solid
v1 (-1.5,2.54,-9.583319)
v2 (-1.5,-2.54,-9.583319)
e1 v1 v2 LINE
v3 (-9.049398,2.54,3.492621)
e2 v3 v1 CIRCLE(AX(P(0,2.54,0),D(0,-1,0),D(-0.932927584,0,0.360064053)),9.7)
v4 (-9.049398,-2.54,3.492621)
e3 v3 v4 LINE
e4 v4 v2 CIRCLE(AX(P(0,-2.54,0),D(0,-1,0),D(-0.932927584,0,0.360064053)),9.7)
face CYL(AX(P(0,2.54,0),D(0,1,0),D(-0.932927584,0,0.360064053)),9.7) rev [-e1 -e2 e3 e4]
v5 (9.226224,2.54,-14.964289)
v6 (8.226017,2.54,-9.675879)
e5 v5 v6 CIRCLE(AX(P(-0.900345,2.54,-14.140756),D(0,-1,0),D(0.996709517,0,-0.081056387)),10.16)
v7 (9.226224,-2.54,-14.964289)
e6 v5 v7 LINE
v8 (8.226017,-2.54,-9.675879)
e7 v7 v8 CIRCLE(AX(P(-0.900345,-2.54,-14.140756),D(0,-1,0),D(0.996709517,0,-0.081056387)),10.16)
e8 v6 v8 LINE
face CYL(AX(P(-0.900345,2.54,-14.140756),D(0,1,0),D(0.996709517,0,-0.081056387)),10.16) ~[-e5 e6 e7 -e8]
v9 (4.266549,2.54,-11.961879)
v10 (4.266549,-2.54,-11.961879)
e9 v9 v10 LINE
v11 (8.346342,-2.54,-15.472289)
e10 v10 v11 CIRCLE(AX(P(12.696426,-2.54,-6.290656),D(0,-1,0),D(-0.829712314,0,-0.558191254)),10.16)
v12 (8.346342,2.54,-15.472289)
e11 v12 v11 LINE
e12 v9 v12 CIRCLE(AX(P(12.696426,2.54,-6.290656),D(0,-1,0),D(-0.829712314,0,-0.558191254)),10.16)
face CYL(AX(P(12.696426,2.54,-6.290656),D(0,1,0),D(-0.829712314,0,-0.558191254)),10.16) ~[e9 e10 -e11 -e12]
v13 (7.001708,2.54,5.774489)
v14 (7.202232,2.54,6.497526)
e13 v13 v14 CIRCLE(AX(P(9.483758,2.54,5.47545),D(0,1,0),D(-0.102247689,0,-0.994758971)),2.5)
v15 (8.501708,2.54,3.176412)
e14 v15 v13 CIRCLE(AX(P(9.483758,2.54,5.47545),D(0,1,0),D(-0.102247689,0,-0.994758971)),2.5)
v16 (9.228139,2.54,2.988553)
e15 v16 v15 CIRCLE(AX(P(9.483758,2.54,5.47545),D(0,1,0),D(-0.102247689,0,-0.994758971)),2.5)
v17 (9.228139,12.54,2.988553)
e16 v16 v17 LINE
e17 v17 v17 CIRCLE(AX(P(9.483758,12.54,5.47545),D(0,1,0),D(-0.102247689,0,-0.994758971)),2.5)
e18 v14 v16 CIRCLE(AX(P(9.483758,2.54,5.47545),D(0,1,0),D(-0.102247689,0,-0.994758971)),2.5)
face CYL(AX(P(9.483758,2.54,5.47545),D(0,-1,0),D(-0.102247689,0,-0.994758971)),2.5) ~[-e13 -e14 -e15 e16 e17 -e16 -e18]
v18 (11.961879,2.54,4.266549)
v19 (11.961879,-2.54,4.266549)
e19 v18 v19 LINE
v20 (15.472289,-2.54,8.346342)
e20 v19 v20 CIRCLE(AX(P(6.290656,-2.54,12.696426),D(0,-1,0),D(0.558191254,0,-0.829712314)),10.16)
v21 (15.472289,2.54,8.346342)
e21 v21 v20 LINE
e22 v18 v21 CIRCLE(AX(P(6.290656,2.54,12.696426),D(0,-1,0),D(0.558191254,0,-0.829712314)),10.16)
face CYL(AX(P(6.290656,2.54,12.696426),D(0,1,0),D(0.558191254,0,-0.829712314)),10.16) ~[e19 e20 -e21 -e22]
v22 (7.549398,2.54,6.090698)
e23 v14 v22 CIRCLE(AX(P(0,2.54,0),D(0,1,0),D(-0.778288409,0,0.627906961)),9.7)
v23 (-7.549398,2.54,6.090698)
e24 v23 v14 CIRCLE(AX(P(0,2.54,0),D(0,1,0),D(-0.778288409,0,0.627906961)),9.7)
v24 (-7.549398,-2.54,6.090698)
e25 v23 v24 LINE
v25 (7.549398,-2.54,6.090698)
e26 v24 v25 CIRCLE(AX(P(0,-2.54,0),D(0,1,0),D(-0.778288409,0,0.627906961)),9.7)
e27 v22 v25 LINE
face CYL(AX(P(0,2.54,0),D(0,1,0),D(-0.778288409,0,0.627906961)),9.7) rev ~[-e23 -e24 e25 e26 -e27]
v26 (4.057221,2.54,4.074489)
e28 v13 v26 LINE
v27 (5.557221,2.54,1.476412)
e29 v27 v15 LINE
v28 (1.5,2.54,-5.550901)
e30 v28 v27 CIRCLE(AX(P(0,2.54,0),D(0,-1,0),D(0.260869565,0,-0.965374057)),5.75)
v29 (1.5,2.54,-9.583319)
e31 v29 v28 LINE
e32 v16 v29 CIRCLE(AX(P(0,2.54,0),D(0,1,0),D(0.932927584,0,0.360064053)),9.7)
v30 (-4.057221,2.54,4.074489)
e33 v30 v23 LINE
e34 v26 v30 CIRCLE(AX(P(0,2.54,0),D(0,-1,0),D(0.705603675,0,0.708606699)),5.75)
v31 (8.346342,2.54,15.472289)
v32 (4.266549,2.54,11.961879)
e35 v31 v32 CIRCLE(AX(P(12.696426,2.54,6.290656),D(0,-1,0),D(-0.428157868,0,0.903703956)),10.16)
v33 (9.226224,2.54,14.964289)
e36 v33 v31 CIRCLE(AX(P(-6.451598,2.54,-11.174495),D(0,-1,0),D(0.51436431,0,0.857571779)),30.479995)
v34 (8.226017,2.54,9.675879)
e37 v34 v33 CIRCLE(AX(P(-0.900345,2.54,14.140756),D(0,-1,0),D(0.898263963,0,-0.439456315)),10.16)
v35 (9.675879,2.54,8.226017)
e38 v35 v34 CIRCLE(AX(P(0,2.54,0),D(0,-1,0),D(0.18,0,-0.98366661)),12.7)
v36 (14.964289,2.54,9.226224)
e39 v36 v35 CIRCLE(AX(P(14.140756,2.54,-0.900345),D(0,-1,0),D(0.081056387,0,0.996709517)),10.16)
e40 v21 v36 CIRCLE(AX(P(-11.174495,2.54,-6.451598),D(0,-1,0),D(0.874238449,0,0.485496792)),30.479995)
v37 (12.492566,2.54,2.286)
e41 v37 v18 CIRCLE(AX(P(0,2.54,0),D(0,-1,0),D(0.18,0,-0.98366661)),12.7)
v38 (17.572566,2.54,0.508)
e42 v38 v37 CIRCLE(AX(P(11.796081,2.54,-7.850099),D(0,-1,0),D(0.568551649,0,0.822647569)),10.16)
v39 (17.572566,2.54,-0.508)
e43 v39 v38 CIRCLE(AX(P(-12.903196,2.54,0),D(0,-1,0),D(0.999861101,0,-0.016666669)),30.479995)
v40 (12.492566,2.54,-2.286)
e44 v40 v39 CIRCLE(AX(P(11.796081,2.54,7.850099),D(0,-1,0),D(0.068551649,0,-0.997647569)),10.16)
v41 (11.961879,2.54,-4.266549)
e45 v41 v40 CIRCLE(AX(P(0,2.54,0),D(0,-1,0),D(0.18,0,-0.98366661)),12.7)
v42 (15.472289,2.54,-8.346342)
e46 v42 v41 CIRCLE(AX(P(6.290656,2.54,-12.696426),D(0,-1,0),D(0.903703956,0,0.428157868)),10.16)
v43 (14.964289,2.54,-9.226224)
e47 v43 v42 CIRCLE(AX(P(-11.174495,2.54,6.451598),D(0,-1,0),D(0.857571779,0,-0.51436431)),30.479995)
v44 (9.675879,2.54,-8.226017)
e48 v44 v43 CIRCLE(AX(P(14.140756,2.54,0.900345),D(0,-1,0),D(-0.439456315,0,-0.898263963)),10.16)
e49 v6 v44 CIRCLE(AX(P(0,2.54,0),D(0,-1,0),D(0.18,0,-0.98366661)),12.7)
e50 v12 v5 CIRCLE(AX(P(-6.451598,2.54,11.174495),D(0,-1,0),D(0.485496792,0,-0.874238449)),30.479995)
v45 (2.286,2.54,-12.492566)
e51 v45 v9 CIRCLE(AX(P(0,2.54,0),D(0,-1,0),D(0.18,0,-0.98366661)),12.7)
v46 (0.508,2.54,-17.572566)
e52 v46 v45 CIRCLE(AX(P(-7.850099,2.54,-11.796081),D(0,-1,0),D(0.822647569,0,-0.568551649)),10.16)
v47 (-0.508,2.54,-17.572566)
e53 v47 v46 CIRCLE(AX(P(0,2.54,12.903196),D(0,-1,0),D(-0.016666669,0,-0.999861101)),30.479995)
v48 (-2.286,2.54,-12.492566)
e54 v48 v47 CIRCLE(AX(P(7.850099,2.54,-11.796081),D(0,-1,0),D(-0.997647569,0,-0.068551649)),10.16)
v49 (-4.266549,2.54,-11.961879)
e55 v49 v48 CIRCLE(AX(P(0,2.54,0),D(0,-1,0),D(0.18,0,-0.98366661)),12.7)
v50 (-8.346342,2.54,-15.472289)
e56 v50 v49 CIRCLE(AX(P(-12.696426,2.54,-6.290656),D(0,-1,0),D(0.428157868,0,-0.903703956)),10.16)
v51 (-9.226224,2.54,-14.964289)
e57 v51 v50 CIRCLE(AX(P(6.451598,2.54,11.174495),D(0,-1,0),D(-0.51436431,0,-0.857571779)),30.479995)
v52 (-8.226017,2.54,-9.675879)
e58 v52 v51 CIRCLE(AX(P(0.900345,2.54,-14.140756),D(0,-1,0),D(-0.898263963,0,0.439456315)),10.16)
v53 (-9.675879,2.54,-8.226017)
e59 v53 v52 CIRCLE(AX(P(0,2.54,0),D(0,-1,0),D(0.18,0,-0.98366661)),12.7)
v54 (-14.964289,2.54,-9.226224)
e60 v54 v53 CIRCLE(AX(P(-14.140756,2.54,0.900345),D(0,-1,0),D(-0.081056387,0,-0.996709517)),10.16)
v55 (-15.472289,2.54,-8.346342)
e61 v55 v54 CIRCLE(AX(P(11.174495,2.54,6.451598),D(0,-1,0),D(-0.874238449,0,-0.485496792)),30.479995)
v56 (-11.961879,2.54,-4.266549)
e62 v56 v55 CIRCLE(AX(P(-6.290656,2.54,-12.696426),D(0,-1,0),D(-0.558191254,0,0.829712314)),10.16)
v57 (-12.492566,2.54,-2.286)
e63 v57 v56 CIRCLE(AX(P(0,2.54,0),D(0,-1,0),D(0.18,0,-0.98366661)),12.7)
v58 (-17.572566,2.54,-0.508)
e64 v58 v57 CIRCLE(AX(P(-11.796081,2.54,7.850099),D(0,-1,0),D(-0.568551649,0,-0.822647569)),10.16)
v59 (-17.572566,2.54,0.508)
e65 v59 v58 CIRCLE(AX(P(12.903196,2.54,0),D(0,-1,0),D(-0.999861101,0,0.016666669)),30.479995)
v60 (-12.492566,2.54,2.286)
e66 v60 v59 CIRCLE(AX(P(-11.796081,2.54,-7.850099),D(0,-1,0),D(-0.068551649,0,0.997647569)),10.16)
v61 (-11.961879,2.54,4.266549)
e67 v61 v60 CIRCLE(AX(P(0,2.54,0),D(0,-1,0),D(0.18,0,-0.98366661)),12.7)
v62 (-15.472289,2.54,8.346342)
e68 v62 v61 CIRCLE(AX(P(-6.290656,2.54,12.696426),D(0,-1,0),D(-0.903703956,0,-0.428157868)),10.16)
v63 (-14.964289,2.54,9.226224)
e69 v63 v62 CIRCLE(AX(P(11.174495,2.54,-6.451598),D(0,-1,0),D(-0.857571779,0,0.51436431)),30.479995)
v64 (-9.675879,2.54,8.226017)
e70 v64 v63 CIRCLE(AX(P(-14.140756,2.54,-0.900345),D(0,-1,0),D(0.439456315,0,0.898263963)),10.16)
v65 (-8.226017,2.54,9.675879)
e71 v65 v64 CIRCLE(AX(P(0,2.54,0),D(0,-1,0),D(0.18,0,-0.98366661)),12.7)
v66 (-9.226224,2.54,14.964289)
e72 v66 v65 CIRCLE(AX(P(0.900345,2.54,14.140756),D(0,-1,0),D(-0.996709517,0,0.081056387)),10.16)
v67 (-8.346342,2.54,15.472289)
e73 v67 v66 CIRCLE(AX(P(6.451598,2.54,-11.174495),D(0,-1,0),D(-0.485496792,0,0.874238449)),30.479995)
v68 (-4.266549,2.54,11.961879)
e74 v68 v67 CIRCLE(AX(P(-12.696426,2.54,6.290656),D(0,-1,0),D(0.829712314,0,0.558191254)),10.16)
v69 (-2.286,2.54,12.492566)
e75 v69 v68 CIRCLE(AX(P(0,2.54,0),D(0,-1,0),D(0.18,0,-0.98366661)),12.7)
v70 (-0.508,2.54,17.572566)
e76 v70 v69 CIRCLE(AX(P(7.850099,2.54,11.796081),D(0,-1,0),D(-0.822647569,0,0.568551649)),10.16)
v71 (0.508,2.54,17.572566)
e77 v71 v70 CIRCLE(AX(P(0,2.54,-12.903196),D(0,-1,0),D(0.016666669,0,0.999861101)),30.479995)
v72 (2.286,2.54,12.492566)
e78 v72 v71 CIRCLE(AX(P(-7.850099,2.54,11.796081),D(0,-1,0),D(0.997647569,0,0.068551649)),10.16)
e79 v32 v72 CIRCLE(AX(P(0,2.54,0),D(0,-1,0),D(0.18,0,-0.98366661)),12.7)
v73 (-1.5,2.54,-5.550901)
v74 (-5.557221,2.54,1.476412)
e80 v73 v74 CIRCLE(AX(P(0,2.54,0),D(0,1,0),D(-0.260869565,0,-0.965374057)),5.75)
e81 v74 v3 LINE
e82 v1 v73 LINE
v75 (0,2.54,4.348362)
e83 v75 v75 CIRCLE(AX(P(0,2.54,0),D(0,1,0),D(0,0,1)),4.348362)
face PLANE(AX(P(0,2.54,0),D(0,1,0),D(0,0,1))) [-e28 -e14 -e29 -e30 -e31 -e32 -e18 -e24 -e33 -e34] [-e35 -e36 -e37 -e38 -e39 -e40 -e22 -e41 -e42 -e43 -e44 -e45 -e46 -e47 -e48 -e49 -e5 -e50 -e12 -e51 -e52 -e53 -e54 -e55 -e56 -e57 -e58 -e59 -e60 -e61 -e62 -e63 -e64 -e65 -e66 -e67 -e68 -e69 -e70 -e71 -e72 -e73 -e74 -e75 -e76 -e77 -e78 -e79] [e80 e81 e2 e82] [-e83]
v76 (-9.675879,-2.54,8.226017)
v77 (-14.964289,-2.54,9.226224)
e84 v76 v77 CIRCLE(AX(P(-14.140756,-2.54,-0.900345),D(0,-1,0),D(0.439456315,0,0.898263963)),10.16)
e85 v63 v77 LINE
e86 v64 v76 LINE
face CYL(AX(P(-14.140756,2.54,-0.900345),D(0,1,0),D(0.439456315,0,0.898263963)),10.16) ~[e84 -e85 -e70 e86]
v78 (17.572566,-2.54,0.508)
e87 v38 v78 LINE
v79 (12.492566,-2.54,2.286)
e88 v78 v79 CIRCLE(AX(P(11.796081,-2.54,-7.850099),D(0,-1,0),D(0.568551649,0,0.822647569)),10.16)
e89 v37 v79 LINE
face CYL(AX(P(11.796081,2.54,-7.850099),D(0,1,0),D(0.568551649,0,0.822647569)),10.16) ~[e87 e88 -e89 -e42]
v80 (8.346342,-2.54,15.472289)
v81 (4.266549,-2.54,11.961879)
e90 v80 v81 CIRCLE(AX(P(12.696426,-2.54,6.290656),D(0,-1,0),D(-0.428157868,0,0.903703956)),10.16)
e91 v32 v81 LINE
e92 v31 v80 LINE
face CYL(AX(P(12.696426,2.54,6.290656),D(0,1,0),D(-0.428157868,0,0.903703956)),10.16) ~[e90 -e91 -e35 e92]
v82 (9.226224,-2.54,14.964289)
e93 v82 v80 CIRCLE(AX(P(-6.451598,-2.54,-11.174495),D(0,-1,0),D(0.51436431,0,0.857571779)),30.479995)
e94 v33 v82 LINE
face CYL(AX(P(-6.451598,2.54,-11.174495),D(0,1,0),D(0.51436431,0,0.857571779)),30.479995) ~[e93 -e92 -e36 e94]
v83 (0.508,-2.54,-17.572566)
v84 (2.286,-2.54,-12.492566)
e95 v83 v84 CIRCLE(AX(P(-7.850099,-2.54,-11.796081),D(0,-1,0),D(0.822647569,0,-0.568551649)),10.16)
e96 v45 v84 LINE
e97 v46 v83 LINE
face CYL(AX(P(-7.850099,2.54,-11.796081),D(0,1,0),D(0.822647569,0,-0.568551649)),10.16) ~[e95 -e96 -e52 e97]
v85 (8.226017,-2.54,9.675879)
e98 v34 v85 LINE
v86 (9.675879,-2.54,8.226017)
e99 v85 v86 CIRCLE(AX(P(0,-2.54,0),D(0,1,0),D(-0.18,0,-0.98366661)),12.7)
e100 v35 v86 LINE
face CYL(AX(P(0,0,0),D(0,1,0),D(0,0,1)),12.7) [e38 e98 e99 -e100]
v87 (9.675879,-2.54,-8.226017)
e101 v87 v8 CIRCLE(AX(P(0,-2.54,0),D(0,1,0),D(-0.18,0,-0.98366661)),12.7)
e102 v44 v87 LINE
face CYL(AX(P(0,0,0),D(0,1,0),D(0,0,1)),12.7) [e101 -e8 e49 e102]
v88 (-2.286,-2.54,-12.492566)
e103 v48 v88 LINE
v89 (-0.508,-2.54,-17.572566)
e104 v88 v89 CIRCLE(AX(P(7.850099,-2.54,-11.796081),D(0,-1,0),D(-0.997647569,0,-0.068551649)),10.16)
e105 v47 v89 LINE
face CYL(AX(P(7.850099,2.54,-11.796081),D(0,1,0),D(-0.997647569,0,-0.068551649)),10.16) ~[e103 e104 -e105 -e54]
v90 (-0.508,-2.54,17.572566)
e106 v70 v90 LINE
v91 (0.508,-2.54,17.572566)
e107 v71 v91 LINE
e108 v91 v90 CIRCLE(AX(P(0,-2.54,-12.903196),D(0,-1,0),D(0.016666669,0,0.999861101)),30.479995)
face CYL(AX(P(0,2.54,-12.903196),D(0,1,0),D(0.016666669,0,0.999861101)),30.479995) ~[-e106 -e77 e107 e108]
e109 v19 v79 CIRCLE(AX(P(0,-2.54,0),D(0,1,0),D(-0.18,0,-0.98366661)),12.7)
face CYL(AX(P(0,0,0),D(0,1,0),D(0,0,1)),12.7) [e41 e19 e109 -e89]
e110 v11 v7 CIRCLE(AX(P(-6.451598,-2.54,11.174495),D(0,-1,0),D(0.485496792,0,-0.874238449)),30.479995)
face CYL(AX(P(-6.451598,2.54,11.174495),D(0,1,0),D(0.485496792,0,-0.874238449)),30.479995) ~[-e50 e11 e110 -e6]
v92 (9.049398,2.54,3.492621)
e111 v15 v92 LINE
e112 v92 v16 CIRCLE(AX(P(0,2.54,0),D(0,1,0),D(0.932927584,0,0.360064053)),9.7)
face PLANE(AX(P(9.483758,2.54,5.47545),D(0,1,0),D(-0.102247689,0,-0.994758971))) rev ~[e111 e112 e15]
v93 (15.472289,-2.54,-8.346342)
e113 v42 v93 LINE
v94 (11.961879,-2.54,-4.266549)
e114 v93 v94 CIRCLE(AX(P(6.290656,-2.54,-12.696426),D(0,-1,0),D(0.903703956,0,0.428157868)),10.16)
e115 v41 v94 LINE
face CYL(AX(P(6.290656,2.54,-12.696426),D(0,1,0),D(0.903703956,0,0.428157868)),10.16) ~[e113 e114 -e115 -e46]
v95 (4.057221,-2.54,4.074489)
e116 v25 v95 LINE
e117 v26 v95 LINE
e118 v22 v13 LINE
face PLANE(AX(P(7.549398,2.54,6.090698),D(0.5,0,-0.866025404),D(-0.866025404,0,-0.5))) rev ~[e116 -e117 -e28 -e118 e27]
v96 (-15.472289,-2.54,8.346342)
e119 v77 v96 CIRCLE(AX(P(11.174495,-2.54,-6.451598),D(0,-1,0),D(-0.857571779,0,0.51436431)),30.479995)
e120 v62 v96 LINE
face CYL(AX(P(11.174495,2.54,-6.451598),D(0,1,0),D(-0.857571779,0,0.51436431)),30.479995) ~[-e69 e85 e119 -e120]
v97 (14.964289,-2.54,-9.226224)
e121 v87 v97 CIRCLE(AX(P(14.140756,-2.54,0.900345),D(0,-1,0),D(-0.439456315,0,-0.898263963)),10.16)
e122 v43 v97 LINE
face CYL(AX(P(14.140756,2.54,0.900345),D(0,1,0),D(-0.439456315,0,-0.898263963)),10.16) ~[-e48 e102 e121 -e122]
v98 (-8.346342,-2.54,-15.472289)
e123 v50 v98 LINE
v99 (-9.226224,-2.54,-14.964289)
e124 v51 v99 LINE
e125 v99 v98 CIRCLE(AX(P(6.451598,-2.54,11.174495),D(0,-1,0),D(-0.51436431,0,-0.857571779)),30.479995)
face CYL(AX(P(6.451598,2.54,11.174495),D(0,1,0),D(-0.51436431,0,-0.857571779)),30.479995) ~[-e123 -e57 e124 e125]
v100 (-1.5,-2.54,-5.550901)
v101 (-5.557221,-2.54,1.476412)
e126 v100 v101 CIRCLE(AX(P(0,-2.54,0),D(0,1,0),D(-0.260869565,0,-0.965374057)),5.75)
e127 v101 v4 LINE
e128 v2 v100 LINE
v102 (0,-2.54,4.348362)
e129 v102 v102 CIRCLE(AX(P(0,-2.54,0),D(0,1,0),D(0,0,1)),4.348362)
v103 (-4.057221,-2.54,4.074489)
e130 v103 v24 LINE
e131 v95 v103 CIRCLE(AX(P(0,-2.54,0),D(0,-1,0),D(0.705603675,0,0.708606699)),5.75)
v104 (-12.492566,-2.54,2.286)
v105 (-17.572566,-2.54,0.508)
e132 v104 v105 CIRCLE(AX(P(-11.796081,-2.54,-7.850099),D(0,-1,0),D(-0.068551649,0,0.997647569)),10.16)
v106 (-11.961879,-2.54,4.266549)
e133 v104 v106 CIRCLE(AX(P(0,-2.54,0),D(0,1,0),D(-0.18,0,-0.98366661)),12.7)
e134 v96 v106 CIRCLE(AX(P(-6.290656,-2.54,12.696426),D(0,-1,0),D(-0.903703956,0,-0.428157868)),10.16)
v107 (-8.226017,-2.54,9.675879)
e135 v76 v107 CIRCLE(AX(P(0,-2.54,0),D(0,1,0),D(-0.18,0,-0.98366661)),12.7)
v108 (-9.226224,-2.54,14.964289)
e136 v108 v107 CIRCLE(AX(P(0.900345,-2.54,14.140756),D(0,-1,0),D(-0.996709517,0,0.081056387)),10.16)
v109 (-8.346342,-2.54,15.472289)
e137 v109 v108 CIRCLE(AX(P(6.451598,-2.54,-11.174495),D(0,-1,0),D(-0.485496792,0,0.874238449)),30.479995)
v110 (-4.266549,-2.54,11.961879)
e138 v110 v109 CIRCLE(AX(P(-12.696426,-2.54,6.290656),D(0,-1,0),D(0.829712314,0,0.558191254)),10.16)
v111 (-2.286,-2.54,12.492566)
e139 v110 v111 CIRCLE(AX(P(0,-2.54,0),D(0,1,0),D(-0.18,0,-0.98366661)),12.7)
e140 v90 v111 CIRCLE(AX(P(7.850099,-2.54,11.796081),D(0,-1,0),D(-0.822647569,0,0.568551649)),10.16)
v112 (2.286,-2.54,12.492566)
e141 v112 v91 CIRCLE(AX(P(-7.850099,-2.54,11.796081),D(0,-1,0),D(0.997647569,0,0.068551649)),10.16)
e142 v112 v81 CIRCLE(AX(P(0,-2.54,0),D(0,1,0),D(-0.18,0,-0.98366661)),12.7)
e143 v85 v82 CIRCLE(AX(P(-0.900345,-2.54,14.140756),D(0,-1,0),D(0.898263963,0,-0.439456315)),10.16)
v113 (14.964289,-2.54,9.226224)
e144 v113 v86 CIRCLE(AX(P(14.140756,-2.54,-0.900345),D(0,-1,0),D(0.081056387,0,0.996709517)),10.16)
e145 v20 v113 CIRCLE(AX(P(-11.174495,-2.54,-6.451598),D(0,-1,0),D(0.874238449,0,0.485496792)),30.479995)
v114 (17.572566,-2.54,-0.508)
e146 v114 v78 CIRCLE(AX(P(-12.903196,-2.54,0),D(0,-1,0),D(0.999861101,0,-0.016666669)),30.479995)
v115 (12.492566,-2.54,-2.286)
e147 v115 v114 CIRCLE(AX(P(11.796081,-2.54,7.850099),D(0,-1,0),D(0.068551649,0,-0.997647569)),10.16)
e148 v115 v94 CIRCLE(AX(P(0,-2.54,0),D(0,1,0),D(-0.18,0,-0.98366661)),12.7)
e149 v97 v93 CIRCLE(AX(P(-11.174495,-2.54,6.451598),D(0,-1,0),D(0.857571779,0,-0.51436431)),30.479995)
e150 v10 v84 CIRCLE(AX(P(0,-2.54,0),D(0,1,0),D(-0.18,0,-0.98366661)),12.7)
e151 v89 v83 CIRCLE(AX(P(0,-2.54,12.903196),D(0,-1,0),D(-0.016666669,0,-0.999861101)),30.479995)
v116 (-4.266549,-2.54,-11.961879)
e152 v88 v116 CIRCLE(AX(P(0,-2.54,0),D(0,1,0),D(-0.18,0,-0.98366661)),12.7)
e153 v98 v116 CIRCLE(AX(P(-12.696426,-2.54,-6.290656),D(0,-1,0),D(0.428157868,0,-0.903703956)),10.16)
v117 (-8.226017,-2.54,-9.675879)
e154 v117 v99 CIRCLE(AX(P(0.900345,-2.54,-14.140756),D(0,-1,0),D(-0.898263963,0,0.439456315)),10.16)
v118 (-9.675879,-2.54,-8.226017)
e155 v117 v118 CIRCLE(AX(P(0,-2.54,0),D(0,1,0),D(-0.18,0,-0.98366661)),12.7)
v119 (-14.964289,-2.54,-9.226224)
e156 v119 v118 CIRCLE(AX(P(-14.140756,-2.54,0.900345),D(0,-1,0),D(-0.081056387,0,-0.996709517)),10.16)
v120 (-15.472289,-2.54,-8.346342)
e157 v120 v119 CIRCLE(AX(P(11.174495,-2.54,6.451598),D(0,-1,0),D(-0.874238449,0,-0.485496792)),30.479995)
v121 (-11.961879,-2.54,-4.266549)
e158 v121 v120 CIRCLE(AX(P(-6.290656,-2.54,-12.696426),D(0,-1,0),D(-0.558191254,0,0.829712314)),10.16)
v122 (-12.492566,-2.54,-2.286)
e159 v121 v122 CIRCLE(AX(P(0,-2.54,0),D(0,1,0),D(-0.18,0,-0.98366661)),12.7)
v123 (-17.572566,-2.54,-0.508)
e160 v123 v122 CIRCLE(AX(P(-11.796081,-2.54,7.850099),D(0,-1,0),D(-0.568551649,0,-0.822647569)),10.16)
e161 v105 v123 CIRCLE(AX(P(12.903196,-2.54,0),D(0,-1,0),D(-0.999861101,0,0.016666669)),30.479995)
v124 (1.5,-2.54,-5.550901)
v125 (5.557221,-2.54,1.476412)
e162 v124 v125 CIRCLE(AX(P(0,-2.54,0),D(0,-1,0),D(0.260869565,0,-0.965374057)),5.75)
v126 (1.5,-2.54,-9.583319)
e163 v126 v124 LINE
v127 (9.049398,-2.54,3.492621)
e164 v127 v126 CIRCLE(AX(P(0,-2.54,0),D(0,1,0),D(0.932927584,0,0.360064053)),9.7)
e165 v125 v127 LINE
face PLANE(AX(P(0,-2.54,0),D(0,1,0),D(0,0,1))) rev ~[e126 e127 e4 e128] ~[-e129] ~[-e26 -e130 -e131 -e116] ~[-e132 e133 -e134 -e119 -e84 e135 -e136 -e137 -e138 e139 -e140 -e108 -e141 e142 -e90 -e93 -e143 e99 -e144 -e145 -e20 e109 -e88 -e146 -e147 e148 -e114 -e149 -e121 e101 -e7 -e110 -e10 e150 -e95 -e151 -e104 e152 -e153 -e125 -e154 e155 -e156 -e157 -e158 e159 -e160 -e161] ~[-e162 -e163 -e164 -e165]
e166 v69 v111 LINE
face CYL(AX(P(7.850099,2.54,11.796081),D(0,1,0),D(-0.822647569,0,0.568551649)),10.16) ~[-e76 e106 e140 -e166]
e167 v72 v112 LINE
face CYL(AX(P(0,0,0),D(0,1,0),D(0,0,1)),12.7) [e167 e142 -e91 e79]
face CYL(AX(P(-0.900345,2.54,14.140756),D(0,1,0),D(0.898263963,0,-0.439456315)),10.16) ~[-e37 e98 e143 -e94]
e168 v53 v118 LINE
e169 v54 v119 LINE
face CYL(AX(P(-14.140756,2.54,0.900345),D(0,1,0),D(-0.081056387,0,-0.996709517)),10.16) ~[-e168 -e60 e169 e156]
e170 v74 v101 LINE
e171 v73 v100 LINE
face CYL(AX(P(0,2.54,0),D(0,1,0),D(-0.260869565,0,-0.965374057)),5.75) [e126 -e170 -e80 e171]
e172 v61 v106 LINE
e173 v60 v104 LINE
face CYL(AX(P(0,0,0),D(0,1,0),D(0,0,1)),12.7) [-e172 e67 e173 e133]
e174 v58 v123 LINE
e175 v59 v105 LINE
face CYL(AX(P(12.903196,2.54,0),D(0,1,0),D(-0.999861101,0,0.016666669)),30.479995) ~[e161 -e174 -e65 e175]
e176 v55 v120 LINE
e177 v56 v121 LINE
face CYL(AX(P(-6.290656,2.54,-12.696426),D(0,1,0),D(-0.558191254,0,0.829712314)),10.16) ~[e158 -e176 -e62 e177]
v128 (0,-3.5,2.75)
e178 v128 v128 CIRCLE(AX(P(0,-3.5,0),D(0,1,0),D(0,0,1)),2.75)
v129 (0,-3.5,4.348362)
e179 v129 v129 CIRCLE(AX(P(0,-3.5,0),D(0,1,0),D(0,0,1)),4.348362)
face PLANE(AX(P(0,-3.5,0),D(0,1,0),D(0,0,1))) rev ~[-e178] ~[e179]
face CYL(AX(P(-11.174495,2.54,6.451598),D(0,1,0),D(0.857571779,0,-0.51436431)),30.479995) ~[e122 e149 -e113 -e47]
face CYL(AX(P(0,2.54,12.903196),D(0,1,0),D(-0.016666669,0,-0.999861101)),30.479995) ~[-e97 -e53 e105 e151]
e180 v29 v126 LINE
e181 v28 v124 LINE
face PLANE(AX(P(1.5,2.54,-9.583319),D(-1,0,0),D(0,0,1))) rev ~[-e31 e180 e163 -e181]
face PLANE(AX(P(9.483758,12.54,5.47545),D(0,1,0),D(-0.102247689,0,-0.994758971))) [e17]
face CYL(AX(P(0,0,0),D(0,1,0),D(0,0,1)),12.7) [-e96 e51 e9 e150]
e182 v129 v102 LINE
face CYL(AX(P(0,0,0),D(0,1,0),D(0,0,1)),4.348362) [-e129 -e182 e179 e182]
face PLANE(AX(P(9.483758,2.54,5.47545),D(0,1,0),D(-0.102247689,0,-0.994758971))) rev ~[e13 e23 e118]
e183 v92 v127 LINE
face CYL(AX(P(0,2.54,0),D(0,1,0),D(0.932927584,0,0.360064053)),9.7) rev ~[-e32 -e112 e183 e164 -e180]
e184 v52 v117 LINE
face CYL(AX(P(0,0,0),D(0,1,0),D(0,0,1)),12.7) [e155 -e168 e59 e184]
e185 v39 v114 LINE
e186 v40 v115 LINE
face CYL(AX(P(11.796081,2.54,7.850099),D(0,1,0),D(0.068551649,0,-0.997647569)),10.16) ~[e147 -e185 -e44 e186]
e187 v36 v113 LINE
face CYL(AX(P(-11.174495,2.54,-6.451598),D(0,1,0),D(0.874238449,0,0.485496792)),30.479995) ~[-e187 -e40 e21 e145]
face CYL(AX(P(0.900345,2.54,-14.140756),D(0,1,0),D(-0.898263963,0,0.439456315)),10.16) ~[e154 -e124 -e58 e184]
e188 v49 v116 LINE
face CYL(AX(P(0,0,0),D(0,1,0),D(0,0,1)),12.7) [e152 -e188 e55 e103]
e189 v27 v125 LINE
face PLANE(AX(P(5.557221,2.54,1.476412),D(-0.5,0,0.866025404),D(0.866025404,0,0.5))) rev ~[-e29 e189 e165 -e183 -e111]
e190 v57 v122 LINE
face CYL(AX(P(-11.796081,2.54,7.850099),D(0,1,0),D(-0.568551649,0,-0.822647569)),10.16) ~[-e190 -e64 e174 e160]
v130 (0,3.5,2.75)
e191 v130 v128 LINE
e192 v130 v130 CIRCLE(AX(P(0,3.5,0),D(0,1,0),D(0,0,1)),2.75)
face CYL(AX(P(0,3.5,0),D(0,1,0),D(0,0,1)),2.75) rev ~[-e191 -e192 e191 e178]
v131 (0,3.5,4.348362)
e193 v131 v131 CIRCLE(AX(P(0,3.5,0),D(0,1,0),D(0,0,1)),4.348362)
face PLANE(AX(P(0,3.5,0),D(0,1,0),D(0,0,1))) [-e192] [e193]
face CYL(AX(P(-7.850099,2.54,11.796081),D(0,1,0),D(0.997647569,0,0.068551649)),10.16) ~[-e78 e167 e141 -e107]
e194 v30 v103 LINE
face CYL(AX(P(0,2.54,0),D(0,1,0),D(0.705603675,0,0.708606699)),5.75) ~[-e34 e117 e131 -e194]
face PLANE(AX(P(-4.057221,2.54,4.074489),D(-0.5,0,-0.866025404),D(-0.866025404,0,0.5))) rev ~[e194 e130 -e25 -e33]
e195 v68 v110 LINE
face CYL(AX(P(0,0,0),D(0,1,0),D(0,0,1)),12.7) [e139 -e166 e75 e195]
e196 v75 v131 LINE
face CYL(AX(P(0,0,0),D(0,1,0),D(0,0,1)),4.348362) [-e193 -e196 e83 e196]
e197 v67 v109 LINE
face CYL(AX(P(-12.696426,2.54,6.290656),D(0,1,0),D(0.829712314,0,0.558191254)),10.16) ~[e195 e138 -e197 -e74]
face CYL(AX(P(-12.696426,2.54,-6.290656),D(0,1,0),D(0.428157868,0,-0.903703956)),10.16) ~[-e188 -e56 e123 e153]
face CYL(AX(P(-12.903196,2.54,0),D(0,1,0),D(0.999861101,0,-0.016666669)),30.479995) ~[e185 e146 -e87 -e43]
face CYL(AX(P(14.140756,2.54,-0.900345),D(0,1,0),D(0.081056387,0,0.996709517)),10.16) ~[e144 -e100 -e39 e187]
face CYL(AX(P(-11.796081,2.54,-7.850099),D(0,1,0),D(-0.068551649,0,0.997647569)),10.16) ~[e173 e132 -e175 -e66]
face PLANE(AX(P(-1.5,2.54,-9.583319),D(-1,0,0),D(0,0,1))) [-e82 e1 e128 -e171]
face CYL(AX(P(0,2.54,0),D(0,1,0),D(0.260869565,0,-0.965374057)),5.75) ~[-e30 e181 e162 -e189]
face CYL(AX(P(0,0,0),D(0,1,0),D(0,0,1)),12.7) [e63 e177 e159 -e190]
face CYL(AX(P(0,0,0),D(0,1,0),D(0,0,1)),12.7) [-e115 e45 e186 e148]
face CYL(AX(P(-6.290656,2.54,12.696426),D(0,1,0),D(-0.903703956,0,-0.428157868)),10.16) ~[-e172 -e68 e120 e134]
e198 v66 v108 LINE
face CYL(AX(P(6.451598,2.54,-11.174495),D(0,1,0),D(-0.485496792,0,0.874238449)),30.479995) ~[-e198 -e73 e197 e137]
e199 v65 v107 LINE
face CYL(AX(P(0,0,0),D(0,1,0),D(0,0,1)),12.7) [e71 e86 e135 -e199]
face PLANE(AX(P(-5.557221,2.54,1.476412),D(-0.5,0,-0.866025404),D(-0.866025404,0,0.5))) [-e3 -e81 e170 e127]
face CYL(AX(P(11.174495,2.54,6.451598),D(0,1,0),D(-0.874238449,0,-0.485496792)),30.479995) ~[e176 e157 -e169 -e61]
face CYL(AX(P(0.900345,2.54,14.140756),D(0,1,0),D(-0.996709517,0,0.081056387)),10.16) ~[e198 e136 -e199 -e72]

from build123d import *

# Parameters (mm, degrees)
BASE_PROFILE_R          = 12.7
GEAR_BASE_DEPTH         = 2.54
GEAR_START              = 2.54
GEAR_TOOTH_DEPTH        = 5.08
PATTERN_TOOTH_12T_COUNT = 12
LIP_PROFILE_R           = 4.348362351
LIP_DEPTH               = 3.5
SHAFT_START             = 0.96
HOLE_PROFILE_R          = 2.75
SHAFT_HOLE_DEPTH        = 7
GEAR_CUTOUT_DEPTH       = 5.08
HANDLE_PROFILE_R        = 2.5
HANDLE_DEPTH            = 10


with BuildPart() as part:
    # Base Profile → Gear Base (new, symmetric)
    with BuildSketch(Plane(origin=(0, 0, 0), x_dir=(1, 0, 0), z_dir=(0, 1, 0))):
        with Locations(Location((0, 0, 0), (0, 0, 270))):
            Circle(BASE_PROFILE_R)
    extrude(amount=GEAR_BASE_DEPTH, both=True)

    # Tooth Profile → Gear Tooth (add)
    with BuildSketch(Plane(origin=(0, 0, 0), x_dir=(1, 0, 0), z_dir=(0, 1, 0)).offset(GEAR_START)):
        with BuildLine():
            ThreePointArc((-2.286, 12.492565949), (-1.739501602, 15.15244151), (-0.508, 17.572565949))
            ThreePointArc((-0.508, 17.572565949), (0, 17.576799577), (0.508, 17.572565949))
            ThreePointArc((0.508, 17.572565949), (1.739501602, 15.15244151), (2.286, 12.492565949))
            ThreePointArc((2.286, 12.492565949), (0, 12.7), (-2.286, 12.492565949))
        make_face()
    gear_tooth = extrude(amount=-GEAR_TOOTH_DEPTH)

    # Pattern Tooth (12T): Gear Tooth ×12 about axis
    pattern_tooth_12t_axis = Axis((0, 0, 0), (0, 1, 0))
    for i in range(1, PATTERN_TOOTH_12T_COUNT):
        add(gear_tooth.rotate(pattern_tooth_12t_axis, i * 360 / PATTERN_TOOTH_12T_COUNT))

    # Lip Profile → Lip (add, symmetric)
    with BuildSketch(Plane(origin=(0, 0, 0), x_dir=(1, 0, 0), z_dir=(0, 1, 0))):
        with Locations(Location((0, 0, 0), (0, 0, 270))):
            Circle(LIP_PROFILE_R)
    extrude(amount=LIP_DEPTH, both=True)

    # Hole Profile → Shaft Hole (cut)
    with BuildSketch(Plane(origin=(0, 2.54, 0), x_dir=(1, 0, 0), z_dir=(0, 1, 0)).offset(SHAFT_START)):
        with Locations(Location((0, 0, 0), (0, 0, 270))):
            Circle(HOLE_PROFILE_R)
    extrude(amount=-SHAFT_HOLE_DEPTH, mode=Mode.SUBTRACT)

    # Cutout Profile → Gear Cutout (cut)
    with BuildSketch(Plane(origin=(0, 2.54, 0), x_dir=(1, 0, 0), z_dir=(0, 1, 0))):
        with BuildLine():
            Line((-1.5, 9.583318841), (-1.5, 5.550900828))
            ThreePointArc((-1.5, 5.550900828), (-4.979646072, 2.875), (-5.557221131, -1.476412308))
            Line((-5.557221131, -1.476412308), (-9.049397568, -3.492621315))
            ThreePointArc((-9.049397568, -3.492621315), (-8.400446417, 4.85), (-1.5, 9.583318841))
        make_face()
        with BuildLine():
            Line((1.5, 9.583318841), (1.5, 5.550900828))
            ThreePointArc((1.5, 5.550900828), (4.979646072, 2.875), (5.557221131, -1.476412308))
            Line((5.557221131, -1.476412308), (9.049397568, -3.492621315))
            ThreePointArc((9.049397568, -3.492621315), (8.400446417, 4.85), (1.5, 9.583318841))
        make_face()
        with BuildLine():
            Line((7.549397568, -6.090697526), (4.057221131, -4.07448852))
            ThreePointArc((4.057221131, -4.07448852), (0, -5.75), (-4.057221131, -4.07448852))
            Line((-4.057221131, -4.07448852), (-7.549397568, -6.090697526))
            ThreePointArc((-7.549397568, -6.090697526), (0, -9.7), (7.549397568, -6.090697526))
        make_face()
    extrude(amount=-GEAR_CUTOUT_DEPTH, mode=Mode.SUBTRACT)

    # Handle Profile → Handle (add)
    with BuildSketch(Plane(origin=(0, 2.54, 0), x_dir=(1, 0, 0), z_dir=(0, 1, 0))):
        with Locations(Location((9.483758311, -5.475450414, 0), (0, 0, 95.868617156))):
            Circle(HANDLE_PROFILE_R)
    extrude(amount=HANDLE_DEPTH)


solid = part.part
